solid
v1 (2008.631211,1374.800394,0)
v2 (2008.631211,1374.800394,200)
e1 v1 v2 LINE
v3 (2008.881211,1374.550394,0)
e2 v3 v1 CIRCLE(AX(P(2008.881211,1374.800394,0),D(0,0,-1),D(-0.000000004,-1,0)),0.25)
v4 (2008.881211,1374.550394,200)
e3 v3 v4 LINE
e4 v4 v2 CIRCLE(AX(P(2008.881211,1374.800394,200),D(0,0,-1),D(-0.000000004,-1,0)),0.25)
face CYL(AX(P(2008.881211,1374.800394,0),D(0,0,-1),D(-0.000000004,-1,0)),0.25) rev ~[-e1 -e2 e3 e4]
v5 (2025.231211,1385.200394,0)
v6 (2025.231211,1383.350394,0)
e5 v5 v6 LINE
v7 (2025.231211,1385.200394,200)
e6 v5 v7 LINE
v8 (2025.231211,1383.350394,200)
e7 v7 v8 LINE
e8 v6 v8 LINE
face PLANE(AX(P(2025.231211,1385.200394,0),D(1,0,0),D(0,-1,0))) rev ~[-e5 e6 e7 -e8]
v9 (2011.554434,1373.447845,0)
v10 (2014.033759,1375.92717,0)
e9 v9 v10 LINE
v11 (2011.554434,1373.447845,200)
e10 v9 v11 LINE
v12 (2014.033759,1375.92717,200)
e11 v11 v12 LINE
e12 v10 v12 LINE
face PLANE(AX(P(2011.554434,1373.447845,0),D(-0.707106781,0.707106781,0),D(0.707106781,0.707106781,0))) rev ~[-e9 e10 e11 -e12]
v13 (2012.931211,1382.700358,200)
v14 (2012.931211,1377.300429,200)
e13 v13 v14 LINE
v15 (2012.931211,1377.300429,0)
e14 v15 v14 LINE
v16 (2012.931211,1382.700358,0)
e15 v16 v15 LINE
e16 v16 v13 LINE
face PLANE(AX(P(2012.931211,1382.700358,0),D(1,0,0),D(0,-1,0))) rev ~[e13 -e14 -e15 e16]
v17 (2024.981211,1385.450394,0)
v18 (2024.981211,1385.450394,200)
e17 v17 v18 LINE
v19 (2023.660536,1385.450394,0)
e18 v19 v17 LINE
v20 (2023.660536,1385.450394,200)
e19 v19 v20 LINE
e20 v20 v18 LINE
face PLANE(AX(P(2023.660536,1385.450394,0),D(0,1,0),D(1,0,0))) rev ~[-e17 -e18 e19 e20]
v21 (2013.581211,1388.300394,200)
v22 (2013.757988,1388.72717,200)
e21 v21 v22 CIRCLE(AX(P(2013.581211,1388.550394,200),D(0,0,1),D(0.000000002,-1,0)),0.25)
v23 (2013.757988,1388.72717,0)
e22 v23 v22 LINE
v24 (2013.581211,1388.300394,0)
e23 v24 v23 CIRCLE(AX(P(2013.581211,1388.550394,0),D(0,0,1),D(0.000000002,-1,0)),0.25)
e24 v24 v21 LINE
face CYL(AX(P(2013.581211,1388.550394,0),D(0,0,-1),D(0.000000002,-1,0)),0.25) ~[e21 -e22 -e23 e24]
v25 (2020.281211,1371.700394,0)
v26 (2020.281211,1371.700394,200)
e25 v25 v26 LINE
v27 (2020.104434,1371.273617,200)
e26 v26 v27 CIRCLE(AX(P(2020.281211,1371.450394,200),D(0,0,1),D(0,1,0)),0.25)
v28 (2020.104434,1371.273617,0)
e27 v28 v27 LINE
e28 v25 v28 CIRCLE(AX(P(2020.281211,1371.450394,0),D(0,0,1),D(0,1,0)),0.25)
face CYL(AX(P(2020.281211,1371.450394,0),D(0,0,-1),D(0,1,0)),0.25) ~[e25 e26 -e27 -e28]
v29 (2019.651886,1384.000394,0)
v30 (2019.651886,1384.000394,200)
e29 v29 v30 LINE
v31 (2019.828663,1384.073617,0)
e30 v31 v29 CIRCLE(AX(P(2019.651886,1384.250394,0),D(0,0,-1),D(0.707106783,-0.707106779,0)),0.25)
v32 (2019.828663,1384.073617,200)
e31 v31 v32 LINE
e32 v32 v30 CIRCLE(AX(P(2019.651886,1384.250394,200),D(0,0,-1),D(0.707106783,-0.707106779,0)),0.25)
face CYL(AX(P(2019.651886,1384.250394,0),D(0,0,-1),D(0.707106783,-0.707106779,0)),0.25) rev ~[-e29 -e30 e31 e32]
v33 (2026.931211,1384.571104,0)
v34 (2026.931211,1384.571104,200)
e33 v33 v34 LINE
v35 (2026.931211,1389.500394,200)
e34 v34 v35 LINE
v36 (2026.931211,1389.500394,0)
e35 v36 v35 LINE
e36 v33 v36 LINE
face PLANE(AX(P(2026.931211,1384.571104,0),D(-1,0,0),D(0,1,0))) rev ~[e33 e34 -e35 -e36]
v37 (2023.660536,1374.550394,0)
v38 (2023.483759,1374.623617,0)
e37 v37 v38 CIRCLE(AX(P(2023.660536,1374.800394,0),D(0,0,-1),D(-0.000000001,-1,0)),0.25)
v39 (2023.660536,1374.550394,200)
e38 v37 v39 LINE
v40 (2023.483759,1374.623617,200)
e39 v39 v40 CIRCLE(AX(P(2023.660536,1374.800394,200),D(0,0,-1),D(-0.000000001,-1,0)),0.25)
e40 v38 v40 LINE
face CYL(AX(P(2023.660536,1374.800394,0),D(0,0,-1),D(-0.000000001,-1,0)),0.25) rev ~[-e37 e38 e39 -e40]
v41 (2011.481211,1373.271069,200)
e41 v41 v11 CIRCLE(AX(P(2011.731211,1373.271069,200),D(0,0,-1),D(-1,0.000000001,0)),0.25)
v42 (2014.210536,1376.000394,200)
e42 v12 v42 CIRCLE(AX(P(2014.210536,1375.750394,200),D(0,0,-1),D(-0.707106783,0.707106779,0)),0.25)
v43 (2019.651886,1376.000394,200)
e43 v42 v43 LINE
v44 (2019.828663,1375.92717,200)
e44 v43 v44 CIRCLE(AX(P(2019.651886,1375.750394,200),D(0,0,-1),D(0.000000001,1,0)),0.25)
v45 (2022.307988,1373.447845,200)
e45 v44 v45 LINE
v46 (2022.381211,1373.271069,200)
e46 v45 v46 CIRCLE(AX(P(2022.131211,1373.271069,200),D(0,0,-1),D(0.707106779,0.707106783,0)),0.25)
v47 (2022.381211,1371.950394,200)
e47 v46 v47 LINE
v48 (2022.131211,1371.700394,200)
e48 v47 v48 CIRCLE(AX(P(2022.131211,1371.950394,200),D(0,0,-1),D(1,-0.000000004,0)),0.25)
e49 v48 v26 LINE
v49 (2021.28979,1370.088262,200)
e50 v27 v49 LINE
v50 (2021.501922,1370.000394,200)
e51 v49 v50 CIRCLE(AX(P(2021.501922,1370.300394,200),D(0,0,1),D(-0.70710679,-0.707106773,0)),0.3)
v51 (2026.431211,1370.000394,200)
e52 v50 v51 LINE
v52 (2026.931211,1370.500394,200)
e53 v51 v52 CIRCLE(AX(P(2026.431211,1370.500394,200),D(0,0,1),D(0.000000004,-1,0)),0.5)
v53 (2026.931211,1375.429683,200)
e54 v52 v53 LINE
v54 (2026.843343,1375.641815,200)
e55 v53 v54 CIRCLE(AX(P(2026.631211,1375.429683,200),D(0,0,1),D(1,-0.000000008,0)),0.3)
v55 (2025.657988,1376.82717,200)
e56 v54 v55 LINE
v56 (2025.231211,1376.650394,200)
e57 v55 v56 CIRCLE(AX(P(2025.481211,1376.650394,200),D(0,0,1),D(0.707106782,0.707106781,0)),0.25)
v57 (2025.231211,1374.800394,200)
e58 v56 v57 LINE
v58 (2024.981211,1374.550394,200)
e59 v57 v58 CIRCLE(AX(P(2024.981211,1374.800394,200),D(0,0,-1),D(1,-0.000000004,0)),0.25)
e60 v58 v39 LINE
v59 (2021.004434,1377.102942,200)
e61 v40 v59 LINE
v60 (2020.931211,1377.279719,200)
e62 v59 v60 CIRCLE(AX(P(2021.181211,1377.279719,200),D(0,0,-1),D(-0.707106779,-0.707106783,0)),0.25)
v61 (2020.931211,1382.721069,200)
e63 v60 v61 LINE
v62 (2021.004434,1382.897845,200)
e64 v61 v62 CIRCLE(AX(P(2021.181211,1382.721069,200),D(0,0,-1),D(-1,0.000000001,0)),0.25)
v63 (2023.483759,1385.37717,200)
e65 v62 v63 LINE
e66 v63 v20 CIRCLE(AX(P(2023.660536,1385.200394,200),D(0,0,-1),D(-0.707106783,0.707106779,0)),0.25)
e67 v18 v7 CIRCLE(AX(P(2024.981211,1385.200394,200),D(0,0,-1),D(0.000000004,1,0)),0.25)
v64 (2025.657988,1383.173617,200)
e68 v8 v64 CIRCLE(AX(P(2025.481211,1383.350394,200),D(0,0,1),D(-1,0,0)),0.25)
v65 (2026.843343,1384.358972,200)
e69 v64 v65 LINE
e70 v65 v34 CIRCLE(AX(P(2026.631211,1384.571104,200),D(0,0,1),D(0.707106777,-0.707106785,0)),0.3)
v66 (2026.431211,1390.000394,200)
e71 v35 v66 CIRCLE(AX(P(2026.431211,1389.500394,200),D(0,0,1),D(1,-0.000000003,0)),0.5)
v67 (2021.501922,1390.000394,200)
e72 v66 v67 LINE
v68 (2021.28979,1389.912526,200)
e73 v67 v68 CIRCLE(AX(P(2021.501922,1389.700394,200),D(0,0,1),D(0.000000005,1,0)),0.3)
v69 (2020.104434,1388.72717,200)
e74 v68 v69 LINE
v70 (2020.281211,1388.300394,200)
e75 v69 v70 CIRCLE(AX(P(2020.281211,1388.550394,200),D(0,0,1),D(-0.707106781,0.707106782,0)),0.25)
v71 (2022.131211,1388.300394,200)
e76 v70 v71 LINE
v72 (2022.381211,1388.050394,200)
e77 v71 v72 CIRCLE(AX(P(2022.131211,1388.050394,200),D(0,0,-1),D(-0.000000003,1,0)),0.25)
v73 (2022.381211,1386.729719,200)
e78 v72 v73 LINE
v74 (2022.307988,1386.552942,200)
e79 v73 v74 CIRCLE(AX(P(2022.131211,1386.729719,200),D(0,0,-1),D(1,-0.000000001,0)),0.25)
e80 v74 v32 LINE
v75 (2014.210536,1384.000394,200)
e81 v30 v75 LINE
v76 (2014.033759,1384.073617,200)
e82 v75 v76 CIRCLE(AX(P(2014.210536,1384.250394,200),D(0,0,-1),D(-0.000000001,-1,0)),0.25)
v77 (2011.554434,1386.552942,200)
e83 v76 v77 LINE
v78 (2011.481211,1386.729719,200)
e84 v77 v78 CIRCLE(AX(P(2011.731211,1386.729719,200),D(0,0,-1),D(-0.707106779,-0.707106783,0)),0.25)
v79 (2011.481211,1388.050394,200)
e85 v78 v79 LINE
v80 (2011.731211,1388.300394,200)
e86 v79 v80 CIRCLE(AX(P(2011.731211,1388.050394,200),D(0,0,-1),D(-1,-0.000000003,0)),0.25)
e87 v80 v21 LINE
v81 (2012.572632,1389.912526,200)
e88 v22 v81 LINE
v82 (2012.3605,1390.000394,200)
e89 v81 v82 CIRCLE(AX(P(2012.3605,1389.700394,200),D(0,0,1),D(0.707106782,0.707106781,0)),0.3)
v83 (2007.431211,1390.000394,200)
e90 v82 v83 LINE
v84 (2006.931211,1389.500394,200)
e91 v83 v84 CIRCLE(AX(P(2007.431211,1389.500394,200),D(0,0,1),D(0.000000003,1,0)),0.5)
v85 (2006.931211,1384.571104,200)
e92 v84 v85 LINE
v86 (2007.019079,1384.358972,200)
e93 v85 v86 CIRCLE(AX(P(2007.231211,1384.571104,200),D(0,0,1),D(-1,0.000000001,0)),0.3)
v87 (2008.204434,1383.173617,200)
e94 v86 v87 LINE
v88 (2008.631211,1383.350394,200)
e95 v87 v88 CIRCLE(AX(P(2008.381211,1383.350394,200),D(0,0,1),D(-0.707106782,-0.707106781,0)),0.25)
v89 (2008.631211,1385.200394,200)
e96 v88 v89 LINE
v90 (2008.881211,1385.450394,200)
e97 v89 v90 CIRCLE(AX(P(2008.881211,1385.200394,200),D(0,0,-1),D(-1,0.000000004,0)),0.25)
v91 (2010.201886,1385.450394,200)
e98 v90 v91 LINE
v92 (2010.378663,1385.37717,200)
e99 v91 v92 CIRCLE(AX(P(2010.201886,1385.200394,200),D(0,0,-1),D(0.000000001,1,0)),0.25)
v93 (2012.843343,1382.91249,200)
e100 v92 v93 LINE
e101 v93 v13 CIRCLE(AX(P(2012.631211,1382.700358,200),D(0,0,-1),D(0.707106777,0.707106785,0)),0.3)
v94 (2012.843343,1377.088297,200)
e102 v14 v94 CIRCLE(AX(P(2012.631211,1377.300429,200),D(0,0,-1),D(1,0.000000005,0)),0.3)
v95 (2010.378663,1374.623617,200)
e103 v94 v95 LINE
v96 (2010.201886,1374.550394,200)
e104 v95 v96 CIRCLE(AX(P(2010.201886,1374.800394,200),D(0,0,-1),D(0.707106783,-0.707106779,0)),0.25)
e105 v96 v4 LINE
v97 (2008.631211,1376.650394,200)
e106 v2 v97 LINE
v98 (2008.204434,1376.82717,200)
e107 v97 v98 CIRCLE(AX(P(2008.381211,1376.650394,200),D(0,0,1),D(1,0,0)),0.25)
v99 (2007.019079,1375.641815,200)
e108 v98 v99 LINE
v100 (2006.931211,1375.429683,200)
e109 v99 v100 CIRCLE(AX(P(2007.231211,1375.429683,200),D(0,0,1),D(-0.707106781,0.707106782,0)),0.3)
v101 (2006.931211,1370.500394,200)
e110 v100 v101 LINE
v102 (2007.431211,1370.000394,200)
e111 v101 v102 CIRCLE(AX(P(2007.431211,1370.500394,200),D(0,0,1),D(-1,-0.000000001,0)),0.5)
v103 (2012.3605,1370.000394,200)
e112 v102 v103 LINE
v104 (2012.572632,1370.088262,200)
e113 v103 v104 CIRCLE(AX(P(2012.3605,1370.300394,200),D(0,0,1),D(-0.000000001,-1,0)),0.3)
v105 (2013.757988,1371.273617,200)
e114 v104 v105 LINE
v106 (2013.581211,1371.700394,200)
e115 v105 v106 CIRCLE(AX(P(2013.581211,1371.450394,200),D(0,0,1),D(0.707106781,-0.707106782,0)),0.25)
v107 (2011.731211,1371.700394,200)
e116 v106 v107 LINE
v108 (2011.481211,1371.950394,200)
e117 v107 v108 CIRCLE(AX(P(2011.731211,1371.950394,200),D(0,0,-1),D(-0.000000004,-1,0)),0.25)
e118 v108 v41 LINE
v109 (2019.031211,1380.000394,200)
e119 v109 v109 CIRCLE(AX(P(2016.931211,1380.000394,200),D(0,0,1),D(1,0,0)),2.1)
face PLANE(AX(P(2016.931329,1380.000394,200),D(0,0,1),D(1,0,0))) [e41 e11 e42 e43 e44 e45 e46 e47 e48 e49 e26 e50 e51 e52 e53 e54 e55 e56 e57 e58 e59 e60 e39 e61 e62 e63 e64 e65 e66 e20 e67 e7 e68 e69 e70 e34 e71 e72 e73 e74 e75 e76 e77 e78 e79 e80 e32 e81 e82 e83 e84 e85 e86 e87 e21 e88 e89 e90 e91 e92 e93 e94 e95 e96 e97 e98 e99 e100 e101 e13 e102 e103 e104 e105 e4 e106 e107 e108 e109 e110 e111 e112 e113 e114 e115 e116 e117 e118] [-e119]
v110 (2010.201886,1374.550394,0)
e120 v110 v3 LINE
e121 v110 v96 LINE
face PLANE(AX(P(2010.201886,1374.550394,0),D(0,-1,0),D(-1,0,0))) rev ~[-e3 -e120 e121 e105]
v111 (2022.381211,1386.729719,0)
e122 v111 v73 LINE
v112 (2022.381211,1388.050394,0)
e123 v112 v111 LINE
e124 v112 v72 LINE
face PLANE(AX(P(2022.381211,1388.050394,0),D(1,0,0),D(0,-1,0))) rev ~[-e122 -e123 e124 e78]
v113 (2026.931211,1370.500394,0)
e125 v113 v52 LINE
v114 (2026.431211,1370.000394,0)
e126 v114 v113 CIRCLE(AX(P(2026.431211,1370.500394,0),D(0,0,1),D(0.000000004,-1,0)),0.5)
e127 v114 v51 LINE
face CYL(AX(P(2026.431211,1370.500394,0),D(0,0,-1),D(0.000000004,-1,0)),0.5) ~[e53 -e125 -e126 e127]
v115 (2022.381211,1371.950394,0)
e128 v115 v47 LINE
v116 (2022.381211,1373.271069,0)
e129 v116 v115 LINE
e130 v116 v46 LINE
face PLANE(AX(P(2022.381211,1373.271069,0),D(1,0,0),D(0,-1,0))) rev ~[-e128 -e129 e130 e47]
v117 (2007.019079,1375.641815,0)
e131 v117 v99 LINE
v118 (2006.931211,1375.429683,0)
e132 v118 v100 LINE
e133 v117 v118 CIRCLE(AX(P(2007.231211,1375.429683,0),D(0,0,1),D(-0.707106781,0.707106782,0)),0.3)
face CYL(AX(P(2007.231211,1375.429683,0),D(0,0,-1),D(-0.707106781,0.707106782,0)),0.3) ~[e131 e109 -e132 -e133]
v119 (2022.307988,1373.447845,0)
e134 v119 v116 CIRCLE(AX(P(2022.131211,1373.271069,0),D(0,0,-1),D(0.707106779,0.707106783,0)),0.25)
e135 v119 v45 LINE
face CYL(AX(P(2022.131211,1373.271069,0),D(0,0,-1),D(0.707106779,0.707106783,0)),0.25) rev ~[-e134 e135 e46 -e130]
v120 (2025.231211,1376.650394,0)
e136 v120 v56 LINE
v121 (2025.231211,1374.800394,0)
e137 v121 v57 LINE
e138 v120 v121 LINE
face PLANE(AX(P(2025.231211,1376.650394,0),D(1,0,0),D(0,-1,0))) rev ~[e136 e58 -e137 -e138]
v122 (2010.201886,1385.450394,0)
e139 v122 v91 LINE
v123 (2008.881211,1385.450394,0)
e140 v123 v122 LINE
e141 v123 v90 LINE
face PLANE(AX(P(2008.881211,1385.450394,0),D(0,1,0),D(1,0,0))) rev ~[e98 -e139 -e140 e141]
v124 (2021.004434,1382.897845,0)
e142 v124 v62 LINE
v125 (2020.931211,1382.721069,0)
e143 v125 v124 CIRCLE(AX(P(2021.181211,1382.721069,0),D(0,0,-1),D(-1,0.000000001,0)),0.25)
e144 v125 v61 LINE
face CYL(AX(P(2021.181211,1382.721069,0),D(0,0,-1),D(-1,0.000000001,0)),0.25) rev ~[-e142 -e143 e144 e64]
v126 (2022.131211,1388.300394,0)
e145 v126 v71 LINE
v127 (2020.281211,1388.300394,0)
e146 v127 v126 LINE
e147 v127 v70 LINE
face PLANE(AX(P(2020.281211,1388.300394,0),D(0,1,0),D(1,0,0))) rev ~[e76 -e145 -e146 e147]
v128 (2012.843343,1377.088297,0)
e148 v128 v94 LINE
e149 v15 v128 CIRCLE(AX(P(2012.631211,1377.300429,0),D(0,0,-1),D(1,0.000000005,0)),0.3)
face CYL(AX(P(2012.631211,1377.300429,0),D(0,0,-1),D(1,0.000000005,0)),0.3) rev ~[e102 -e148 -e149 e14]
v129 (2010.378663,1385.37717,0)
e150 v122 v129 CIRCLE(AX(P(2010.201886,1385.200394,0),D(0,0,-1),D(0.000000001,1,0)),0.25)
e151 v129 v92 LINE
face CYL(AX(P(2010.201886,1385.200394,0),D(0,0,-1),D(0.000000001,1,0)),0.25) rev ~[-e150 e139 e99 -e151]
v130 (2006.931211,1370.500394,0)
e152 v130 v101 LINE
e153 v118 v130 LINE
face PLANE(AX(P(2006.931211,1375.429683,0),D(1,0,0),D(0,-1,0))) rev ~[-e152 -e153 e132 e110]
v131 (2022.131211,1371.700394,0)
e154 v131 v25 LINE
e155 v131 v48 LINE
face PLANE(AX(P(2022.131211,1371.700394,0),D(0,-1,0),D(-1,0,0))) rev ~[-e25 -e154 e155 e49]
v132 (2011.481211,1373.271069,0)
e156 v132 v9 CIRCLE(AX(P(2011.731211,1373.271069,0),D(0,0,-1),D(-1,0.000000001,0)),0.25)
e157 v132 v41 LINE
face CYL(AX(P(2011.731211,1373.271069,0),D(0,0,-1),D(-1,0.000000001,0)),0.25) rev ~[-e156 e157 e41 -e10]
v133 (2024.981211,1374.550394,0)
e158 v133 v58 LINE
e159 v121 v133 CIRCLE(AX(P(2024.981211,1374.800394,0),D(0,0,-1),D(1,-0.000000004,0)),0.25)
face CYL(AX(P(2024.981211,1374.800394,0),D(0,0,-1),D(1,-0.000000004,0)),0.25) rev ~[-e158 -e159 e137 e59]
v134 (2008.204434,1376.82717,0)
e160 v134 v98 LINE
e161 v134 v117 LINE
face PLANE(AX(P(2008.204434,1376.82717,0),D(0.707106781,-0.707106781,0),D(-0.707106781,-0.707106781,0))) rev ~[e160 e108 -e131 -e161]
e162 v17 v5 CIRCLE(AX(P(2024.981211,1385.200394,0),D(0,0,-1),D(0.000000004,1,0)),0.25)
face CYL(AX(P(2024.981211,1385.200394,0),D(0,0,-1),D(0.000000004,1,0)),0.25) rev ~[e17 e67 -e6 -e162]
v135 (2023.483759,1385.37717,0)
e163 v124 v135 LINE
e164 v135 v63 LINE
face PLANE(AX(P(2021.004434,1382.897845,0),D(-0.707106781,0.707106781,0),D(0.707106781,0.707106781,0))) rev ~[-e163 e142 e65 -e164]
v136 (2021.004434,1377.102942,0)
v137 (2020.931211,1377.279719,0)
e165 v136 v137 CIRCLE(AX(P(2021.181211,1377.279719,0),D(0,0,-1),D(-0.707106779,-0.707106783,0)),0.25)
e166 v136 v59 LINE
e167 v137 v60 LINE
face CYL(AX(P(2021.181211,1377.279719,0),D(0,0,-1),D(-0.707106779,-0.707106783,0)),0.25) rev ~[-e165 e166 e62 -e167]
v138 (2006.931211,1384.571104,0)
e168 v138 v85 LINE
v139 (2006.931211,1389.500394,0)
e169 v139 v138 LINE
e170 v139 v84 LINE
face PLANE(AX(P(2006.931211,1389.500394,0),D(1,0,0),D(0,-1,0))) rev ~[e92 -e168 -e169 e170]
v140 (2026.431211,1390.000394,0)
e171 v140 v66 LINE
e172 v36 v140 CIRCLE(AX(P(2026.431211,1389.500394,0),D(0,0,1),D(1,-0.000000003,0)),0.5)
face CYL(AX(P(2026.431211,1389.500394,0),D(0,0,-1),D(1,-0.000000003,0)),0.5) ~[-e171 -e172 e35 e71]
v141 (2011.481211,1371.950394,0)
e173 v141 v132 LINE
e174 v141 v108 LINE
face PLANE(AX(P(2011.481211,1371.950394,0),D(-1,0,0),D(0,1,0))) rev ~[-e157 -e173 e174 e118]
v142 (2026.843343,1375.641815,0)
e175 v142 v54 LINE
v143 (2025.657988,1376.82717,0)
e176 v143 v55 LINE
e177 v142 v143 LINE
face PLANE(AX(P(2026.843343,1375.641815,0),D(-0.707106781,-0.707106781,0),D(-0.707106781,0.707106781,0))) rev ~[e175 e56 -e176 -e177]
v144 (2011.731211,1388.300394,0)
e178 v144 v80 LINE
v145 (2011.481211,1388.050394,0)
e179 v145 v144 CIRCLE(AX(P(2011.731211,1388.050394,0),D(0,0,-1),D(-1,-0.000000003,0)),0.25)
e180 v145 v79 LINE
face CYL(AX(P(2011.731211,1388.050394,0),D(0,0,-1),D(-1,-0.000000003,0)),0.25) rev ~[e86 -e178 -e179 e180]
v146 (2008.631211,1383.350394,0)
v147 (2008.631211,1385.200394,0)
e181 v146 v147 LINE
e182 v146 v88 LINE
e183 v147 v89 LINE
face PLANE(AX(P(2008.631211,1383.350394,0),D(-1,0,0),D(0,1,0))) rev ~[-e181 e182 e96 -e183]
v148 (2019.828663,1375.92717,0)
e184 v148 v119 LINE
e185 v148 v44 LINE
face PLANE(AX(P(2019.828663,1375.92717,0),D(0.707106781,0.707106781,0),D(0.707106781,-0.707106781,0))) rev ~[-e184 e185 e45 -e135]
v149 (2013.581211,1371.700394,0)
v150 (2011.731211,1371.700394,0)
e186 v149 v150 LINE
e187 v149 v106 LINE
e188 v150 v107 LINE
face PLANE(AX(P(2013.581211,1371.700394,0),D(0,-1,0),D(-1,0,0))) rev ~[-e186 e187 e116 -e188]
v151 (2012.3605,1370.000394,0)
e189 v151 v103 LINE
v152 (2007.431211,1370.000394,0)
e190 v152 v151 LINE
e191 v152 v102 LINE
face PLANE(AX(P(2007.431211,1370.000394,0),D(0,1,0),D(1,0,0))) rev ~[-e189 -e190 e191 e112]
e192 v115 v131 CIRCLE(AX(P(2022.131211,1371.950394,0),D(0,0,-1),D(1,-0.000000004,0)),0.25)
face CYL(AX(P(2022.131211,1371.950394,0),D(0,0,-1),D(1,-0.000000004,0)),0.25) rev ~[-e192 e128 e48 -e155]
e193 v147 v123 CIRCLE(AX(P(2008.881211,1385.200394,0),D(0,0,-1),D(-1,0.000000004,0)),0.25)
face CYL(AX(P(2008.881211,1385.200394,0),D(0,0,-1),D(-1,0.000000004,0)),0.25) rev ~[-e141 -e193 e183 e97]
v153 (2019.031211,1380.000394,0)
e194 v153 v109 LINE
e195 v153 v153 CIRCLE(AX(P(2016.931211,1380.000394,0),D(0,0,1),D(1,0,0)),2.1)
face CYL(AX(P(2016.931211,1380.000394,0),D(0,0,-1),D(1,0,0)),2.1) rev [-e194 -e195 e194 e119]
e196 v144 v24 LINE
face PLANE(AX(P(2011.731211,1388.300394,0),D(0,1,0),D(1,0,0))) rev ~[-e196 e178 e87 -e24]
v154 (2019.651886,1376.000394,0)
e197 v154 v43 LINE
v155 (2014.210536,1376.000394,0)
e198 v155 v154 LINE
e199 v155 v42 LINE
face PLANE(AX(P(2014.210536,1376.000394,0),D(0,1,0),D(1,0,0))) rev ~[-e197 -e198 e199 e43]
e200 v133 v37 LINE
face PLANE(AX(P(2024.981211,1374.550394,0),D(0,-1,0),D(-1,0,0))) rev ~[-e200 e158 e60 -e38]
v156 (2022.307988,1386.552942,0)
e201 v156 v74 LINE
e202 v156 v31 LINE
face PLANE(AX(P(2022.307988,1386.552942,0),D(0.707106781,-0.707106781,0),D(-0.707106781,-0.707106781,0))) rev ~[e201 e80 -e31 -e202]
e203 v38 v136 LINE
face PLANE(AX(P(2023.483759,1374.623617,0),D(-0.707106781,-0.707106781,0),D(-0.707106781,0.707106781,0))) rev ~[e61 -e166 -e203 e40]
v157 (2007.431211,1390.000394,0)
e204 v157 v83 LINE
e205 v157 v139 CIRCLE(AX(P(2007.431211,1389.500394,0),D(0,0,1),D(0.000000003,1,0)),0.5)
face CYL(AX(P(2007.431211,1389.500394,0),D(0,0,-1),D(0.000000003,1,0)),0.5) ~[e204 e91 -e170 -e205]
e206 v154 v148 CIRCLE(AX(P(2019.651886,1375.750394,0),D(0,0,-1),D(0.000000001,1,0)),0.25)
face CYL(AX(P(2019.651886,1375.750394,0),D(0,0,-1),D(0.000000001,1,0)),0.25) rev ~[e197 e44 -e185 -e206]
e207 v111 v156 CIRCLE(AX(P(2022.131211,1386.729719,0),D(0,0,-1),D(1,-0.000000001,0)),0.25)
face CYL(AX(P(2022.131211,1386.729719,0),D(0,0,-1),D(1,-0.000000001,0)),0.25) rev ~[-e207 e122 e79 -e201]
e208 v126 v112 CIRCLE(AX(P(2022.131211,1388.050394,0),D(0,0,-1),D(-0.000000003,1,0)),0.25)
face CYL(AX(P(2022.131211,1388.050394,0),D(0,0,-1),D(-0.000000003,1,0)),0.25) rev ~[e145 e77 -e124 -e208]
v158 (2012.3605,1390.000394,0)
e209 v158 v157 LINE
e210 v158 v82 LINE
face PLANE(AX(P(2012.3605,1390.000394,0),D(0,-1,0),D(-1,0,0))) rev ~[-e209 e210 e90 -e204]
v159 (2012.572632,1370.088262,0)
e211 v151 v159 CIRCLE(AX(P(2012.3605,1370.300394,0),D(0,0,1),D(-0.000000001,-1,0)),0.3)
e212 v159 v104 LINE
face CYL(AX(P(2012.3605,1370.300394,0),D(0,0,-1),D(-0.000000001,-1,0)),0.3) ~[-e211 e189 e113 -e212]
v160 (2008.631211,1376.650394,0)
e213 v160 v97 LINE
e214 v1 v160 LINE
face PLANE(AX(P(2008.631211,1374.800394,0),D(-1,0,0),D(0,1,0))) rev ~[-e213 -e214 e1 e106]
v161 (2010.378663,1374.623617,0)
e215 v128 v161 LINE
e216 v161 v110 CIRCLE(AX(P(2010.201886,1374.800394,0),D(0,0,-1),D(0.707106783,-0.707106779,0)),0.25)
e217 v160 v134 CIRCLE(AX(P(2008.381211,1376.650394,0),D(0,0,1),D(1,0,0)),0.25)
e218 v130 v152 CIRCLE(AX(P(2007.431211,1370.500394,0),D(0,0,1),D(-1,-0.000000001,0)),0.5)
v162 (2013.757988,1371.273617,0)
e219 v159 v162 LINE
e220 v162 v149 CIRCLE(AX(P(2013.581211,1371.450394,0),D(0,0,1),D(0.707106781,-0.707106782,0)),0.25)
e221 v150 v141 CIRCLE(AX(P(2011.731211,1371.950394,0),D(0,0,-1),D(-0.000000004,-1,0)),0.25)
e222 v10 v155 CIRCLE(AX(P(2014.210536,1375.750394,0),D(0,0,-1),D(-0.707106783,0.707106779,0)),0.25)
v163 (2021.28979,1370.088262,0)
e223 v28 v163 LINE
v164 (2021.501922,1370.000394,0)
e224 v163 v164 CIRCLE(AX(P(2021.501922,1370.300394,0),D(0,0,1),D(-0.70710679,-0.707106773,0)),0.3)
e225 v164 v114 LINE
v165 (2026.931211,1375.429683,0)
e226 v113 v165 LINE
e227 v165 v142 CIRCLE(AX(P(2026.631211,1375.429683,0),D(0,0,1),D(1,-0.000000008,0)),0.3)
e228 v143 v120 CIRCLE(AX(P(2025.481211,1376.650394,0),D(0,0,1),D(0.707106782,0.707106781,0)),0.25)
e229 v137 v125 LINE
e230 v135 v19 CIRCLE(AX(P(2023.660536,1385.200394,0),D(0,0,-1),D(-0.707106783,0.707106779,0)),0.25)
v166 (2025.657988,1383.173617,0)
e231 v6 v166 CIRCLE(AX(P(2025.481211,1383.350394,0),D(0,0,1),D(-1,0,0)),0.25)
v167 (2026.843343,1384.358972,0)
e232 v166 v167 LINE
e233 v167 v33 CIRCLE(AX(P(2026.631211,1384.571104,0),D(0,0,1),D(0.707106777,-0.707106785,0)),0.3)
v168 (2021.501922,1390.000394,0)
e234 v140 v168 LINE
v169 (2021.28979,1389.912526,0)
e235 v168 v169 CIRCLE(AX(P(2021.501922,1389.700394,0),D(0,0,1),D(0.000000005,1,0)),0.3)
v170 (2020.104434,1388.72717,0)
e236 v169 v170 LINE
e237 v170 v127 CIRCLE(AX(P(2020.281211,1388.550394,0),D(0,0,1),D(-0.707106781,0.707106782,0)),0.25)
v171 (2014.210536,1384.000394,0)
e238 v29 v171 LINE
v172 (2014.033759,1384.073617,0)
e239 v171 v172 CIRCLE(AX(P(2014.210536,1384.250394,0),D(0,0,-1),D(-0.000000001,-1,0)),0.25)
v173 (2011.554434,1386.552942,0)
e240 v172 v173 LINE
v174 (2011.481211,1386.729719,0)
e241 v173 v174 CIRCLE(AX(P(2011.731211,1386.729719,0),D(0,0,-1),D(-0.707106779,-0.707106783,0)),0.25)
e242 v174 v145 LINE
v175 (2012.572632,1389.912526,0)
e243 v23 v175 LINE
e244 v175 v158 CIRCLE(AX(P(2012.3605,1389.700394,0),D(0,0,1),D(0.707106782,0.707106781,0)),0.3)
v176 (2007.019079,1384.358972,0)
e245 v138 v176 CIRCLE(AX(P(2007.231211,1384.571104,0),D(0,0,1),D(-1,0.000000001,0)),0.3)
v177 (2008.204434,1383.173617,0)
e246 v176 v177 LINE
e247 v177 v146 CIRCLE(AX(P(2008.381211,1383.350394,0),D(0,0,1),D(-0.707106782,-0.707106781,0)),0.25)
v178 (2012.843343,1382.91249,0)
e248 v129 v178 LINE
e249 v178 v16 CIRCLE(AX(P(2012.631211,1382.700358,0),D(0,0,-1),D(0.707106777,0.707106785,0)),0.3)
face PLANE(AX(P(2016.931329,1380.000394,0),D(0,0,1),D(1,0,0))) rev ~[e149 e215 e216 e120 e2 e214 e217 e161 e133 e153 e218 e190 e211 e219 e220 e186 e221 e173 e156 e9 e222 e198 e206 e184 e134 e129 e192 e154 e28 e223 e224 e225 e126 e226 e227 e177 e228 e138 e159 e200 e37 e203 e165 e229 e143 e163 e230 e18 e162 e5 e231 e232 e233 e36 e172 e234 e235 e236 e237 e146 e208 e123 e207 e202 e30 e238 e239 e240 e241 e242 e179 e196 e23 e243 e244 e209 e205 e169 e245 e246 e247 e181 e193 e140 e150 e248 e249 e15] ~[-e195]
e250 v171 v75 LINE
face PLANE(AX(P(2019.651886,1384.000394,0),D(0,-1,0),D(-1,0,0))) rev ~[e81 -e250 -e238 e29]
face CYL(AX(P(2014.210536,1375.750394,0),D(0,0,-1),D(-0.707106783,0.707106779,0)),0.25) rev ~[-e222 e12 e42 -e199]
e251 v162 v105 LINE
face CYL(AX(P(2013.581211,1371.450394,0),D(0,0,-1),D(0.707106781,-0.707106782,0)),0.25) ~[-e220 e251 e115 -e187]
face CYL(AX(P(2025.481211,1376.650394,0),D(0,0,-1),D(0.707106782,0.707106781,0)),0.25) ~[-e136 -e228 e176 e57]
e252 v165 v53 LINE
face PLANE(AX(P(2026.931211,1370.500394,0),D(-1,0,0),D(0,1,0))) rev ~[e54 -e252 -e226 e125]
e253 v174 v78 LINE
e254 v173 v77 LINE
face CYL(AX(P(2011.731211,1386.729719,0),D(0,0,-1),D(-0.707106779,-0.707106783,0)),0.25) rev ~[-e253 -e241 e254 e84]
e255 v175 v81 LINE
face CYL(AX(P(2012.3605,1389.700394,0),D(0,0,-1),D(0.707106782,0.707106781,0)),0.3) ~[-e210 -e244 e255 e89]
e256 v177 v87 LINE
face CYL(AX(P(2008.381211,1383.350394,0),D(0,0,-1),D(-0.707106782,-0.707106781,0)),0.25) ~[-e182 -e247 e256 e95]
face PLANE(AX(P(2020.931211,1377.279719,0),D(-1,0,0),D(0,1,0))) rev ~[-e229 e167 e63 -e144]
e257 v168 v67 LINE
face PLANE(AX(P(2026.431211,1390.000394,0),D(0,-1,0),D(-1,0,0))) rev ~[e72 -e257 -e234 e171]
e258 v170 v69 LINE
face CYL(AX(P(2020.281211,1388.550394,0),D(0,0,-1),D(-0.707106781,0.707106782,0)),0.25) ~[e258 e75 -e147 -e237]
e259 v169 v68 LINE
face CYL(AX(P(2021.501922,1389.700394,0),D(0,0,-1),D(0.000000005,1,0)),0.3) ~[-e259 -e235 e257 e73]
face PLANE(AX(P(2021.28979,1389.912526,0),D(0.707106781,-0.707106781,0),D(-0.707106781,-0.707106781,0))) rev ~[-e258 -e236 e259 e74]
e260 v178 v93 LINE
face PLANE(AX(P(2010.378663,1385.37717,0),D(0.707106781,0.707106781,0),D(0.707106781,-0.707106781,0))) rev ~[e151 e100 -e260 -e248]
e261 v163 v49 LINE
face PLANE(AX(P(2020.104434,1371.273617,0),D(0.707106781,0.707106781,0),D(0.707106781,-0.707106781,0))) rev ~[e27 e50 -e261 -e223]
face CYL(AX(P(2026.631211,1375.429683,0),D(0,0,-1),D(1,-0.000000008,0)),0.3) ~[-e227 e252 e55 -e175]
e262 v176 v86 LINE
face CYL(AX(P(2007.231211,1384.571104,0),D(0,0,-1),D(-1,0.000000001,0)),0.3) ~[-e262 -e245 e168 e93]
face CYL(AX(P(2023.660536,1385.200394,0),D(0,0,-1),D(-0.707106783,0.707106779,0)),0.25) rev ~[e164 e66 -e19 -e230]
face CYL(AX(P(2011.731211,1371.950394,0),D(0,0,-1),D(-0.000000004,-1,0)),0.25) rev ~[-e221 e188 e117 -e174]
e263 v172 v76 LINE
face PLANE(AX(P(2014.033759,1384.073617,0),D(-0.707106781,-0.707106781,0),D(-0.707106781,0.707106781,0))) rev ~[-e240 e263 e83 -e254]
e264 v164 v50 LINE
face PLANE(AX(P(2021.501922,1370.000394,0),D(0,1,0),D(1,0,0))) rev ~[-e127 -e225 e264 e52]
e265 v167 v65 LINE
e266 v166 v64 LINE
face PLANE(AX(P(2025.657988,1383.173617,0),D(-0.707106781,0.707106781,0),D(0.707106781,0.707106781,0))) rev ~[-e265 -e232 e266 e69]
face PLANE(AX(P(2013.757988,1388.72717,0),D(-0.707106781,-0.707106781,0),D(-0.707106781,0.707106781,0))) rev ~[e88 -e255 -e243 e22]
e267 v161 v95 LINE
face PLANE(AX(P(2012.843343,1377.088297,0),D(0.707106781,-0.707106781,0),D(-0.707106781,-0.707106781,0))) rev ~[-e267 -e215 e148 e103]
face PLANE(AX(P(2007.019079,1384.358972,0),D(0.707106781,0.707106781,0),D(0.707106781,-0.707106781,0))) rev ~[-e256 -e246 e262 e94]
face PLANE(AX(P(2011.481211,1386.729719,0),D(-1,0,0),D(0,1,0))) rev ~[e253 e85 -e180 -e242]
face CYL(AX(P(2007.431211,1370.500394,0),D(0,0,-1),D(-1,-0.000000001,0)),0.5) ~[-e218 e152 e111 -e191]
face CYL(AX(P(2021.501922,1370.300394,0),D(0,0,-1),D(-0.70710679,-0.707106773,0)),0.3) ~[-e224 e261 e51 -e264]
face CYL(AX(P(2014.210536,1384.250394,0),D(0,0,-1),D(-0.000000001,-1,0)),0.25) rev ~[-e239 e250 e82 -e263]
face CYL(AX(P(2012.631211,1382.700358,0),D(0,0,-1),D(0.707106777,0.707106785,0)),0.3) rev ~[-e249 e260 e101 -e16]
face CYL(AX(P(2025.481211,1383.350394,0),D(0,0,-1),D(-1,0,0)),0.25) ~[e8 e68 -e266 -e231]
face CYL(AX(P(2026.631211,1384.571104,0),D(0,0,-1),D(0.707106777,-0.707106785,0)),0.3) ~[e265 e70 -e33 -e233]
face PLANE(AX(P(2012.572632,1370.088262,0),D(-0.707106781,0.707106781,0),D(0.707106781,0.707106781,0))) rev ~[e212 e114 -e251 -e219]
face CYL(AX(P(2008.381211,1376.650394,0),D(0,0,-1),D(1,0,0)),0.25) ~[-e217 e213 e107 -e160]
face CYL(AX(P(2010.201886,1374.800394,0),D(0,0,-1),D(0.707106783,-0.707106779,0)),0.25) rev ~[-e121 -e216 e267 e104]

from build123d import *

# Parameters (mm, degrees)
MODEL_R             = 2.1
BOSS_EXTRUDE1_DEPTH = 200


with BuildPart() as part:
    # Model → Boss-Extrude1 (new body)
    with BuildSketch(Plane.XY):
        with BuildLine():
            Line((2012.931211125, 1381.800393717), (2012.931211125, 1378.200393717))
            Line((2012.931211125, 1378.200393717), (2012.931211125, 1377.300429431))
            ThreePointArc((2012.931211125, 1377.300429431), (2012.908374985, 1377.185624401), (2012.843343159, 1377.088297396))
            Line((2012.843343159, 1377.088297396), (2010.378662785, 1374.623617022))
            ThreePointArc((2010.378662785, 1374.623617022), (2010.297556948, 1374.569423834), (2010.20188609, 1374.550393717))
            Line((2010.20188609, 1374.550393717), (2008.881211125, 1374.550393717))
            ThreePointArc((2008.881211125, 1374.550393717), (2008.70443443, 1374.623617022), (2008.631211125, 1374.800393717))
            Line((2008.631211125, 1374.800393717), (2008.631211125, 1376.650393717))
            ThreePointArc((2008.631211125, 1376.650393717), (2008.476881983, 1376.8813636), (2008.20443443, 1376.827170412))
            Line((2008.20443443, 1376.827170412), (2007.01907909, 1375.641815073))
            ThreePointArc((2007.01907909, 1375.641815073), (2006.954047265, 1375.544488069), (2006.931211125, 1375.429683039))
            Line((2006.931211125, 1375.429683039), (2006.931211125, 1370.500393717))
            ThreePointArc((2006.931211125, 1370.500393717), (2007.077657734, 1370.146840327), (2007.431211125, 1370.000393717))
            Line((2007.431211125, 1370.000393717), (2012.360500447, 1370.000393717))
            ThreePointArc((2012.360500447, 1370.000393717), (2012.475305476, 1370.023229857), (2012.572632481, 1370.088261683))
            Line((2012.572632481, 1370.088261683), (2013.75798782, 1371.273617022))
            ThreePointArc((2013.75798782, 1371.273617022), (2013.812181008, 1371.546064575), (2013.581211125, 1371.700393717))
            Line((2013.581211125, 1371.700393717), (2011.731211125, 1371.700393717))
            ThreePointArc((2011.731211125, 1371.700393717), (2011.55443443, 1371.773617022), (2011.481211125, 1371.950393717))
            Line((2011.481211125, 1371.950393717), (2011.481211125, 1373.271068682))
            ThreePointArc((2011.481211125, 1373.271068682), (2011.500241242, 1373.36673954), (2011.55443443, 1373.447845377))
            Line((2011.55443443, 1373.447845377), (2014.033759465, 1375.927170412))
            ThreePointArc((2014.033759465, 1375.927170412), (2014.114865302, 1375.9813636), (2014.21053616, 1376.000393717))
            Line((2014.21053616, 1376.000393717), (2016.470233902, 1376.000393717))
            Line((2016.470233902, 1376.000393717), (2017.392188348, 1376.000393717))
            Line((2017.392188348, 1376.000393717), (2019.65188609, 1376.000393717))
            ThreePointArc((2019.65188609, 1376.000393717), (2019.747556948, 1375.9813636), (2019.828662785, 1375.927170412))
            Line((2019.828662785, 1375.927170412), (2022.30798782, 1373.447845377))
            ThreePointArc((2022.30798782, 1373.447845377), (2022.362181008, 1373.36673954), (2022.381211125, 1373.271068682))
            Line((2022.381211125, 1373.271068682), (2022.381211125, 1371.950393717))
            ThreePointArc((2022.381211125, 1371.950393717), (2022.30798782, 1371.773617022), (2022.131211125, 1371.700393717))
            Line((2022.131211125, 1371.700393717), (2020.281211125, 1371.700393717))
            ThreePointArc((2020.281211125, 1371.700393717), (2020.050241242, 1371.546064575), (2020.10443443, 1371.273617022))
            Line((2020.10443443, 1371.273617022), (2021.289789769, 1370.088261683))
            ThreePointArc((2021.289789769, 1370.088261683), (2021.387116773, 1370.023229857), (2021.501921803, 1370.000393717))
            Line((2021.501921803, 1370.000393717), (2026.431211125, 1370.000393717))
            ThreePointArc((2026.431211125, 1370.000393717), (2026.784764515, 1370.146840327), (2026.931211125, 1370.500393717))
            Line((2026.931211125, 1370.500393717), (2026.931211125, 1375.429683039))
            ThreePointArc((2026.931211125, 1375.429683039), (2026.908374985, 1375.544488069), (2026.843343159, 1375.641815073))
            Line((2026.843343159, 1375.641815073), (2025.65798782, 1376.827170412))
            ThreePointArc((2025.65798782, 1376.827170412), (2025.385540267, 1376.8813636), (2025.231211125, 1376.650393717))
            Line((2025.231211125, 1376.650393717), (2025.231211125, 1374.800393717))
            ThreePointArc((2025.231211125, 1374.800393717), (2025.15798782, 1374.623617022), (2024.981211125, 1374.550393717))
            Line((2024.981211125, 1374.550393717), (2023.66053616, 1374.550393717))
            ThreePointArc((2023.66053616, 1374.550393717), (2023.564865302, 1374.569423834), (2023.483759465, 1374.623617022))
            Line((2023.483759465, 1374.623617022), (2021.00443443, 1377.102942057))
            ThreePointArc((2021.00443443, 1377.102942057), (2020.950241242, 1377.184047894), (2020.931211125, 1377.279718752))
            Line((2020.931211125, 1377.279718752), (2020.931211125, 1379.539416494))
            Line((2020.931211125, 1379.539416494), (2020.931211125, 1380.46137094))
            Line((2020.931211125, 1380.46137094), (2020.931211125, 1382.721068682))
            ThreePointArc((2020.931211125, 1382.721068682), (2020.950241242, 1382.81673954), (2021.00443443, 1382.897845377))
            Line((2021.00443443, 1382.897845377), (2023.483759465, 1385.377170412))
            ThreePointArc((2023.483759465, 1385.377170412), (2023.564865302, 1385.4313636), (2023.66053616, 1385.450393717))
            Line((2023.66053616, 1385.450393717), (2024.981211125, 1385.450393717))
            ThreePointArc((2024.981211125, 1385.450393717), (2025.15798782, 1385.377170412), (2025.231211125, 1385.200393717))
            Line((2025.231211125, 1385.200393717), (2025.231211125, 1383.350393717))
            ThreePointArc((2025.231211125, 1383.350393717), (2025.385540267, 1383.119423834), (2025.65798782, 1383.173617022))
            Line((2025.65798782, 1383.173617022), (2026.843343159, 1384.358972361))
            ThreePointArc((2026.843343159, 1384.358972361), (2026.908374985, 1384.456299366), (2026.931211125, 1384.571104395))
            Line((2026.931211125, 1384.571104395), (2026.931211125, 1389.500393717))
            ThreePointArc((2026.931211125, 1389.500393717), (2026.784764516, 1389.853947108), (2026.431211125, 1390.000393717))
            Line((2026.431211125, 1390.000393717), (2021.501921803, 1390.000393717))
            ThreePointArc((2021.501921803, 1390.000393717), (2021.387116773, 1389.977557577), (2021.289789769, 1389.912525752))
            Line((2021.289789769, 1389.912525752), (2020.10443443, 1388.727170413))
            ThreePointArc((2020.10443443, 1388.727170413), (2020.050241242, 1388.454722859), (2020.281211125, 1388.300393717))
            Line((2020.281211125, 1388.300393717), (2022.131211125, 1388.300393717))
            ThreePointArc((2022.131211125, 1388.300393717), (2022.30798782, 1388.227170413), (2022.381211125, 1388.050393717))
            Line((2022.381211125, 1388.050393717), (2022.381211125, 1386.729718752))
            ThreePointArc((2022.381211125, 1386.729718752), (2022.362181008, 1386.634047894), (2022.30798782, 1386.552942057))
            Line((2022.30798782, 1386.552942057), (2019.828662785, 1384.073617022))
            ThreePointArc((2019.828662785, 1384.073617022), (2019.747556948, 1384.019423834), (2019.65188609, 1384.000393717))
            Line((2019.65188609, 1384.000393717), (2017.392188348, 1384.000393717))
            Line((2017.392188348, 1384.000393717), (2016.470233902, 1384.000393717))
            Line((2016.470233902, 1384.000393717), (2014.21053616, 1384.000393717))
            ThreePointArc((2014.21053616, 1384.000393717), (2014.114865302, 1384.019423834), (2014.033759465, 1384.073617022))
            Line((2014.033759465, 1384.073617022), (2011.55443443, 1386.552942057))
            ThreePointArc((2011.55443443, 1386.552942057), (2011.500241242, 1386.634047894), (2011.481211125, 1386.729718752))
            Line((2011.481211125, 1386.729718752), (2011.481211125, 1388.050393717))
            ThreePointArc((2011.481211125, 1388.050393717), (2011.55443443, 1388.227170413), (2011.731211125, 1388.300393717))
            Line((2011.731211125, 1388.300393717), (2013.581211125, 1388.300393717))
            ThreePointArc((2013.581211125, 1388.300393717), (2013.812181008, 1388.454722859), (2013.75798782, 1388.727170413))
            Line((2013.75798782, 1388.727170413), (2012.572632481, 1389.912525752))
            ThreePointArc((2012.572632481, 1389.912525752), (2012.475305477, 1389.977557577), (2012.360500447, 1390.000393717))
            Line((2012.360500447, 1390.000393717), (2007.431211125, 1390.000393717))
            ThreePointArc((2007.431211125, 1390.000393717), (2007.077657734, 1389.853947108), (2006.931211125, 1389.500393717))
            Line((2006.931211125, 1389.500393717), (2006.931211125, 1384.571104395))
            ThreePointArc((2006.931211125, 1384.571104395), (2006.954047265, 1384.456299366), (2007.019079091, 1384.358972361))
            Line((2007.019079091, 1384.358972361), (2008.20443443, 1383.173617022))
            ThreePointArc((2008.20443443, 1383.173617022), (2008.476881983, 1383.119423834), (2008.631211125, 1383.350393717))
            Line((2008.631211125, 1383.350393717), (2008.631211125, 1385.200393717))
            ThreePointArc((2008.631211125, 1385.200393717), (2008.70443443, 1385.377170412), (2008.881211125, 1385.450393717))
            Line((2008.881211125, 1385.450393717), (2010.20188609, 1385.450393717))
            ThreePointArc((2010.20188609, 1385.450393717), (2010.297556948, 1385.4313636), (2010.378662785, 1385.377170412))
            Line((2010.378662785, 1385.377170412), (2012.843343159, 1382.912490038))
            ThreePointArc((2012.843343159, 1382.912490038), (2012.908374985, 1382.815163033), (2012.931211125, 1382.700358004))
            Line((2012.931211125, 1382.700358004), (2012.931211125, 1381.800393717))
        make_face()
        with Locations((2016.931211125, 1380.000393717)):
            Circle(MODEL_R, mode=Mode.SUBTRACT)
    extrude(amount=BOSS_EXTRUDE1_DEPTH)


solid = part.part
